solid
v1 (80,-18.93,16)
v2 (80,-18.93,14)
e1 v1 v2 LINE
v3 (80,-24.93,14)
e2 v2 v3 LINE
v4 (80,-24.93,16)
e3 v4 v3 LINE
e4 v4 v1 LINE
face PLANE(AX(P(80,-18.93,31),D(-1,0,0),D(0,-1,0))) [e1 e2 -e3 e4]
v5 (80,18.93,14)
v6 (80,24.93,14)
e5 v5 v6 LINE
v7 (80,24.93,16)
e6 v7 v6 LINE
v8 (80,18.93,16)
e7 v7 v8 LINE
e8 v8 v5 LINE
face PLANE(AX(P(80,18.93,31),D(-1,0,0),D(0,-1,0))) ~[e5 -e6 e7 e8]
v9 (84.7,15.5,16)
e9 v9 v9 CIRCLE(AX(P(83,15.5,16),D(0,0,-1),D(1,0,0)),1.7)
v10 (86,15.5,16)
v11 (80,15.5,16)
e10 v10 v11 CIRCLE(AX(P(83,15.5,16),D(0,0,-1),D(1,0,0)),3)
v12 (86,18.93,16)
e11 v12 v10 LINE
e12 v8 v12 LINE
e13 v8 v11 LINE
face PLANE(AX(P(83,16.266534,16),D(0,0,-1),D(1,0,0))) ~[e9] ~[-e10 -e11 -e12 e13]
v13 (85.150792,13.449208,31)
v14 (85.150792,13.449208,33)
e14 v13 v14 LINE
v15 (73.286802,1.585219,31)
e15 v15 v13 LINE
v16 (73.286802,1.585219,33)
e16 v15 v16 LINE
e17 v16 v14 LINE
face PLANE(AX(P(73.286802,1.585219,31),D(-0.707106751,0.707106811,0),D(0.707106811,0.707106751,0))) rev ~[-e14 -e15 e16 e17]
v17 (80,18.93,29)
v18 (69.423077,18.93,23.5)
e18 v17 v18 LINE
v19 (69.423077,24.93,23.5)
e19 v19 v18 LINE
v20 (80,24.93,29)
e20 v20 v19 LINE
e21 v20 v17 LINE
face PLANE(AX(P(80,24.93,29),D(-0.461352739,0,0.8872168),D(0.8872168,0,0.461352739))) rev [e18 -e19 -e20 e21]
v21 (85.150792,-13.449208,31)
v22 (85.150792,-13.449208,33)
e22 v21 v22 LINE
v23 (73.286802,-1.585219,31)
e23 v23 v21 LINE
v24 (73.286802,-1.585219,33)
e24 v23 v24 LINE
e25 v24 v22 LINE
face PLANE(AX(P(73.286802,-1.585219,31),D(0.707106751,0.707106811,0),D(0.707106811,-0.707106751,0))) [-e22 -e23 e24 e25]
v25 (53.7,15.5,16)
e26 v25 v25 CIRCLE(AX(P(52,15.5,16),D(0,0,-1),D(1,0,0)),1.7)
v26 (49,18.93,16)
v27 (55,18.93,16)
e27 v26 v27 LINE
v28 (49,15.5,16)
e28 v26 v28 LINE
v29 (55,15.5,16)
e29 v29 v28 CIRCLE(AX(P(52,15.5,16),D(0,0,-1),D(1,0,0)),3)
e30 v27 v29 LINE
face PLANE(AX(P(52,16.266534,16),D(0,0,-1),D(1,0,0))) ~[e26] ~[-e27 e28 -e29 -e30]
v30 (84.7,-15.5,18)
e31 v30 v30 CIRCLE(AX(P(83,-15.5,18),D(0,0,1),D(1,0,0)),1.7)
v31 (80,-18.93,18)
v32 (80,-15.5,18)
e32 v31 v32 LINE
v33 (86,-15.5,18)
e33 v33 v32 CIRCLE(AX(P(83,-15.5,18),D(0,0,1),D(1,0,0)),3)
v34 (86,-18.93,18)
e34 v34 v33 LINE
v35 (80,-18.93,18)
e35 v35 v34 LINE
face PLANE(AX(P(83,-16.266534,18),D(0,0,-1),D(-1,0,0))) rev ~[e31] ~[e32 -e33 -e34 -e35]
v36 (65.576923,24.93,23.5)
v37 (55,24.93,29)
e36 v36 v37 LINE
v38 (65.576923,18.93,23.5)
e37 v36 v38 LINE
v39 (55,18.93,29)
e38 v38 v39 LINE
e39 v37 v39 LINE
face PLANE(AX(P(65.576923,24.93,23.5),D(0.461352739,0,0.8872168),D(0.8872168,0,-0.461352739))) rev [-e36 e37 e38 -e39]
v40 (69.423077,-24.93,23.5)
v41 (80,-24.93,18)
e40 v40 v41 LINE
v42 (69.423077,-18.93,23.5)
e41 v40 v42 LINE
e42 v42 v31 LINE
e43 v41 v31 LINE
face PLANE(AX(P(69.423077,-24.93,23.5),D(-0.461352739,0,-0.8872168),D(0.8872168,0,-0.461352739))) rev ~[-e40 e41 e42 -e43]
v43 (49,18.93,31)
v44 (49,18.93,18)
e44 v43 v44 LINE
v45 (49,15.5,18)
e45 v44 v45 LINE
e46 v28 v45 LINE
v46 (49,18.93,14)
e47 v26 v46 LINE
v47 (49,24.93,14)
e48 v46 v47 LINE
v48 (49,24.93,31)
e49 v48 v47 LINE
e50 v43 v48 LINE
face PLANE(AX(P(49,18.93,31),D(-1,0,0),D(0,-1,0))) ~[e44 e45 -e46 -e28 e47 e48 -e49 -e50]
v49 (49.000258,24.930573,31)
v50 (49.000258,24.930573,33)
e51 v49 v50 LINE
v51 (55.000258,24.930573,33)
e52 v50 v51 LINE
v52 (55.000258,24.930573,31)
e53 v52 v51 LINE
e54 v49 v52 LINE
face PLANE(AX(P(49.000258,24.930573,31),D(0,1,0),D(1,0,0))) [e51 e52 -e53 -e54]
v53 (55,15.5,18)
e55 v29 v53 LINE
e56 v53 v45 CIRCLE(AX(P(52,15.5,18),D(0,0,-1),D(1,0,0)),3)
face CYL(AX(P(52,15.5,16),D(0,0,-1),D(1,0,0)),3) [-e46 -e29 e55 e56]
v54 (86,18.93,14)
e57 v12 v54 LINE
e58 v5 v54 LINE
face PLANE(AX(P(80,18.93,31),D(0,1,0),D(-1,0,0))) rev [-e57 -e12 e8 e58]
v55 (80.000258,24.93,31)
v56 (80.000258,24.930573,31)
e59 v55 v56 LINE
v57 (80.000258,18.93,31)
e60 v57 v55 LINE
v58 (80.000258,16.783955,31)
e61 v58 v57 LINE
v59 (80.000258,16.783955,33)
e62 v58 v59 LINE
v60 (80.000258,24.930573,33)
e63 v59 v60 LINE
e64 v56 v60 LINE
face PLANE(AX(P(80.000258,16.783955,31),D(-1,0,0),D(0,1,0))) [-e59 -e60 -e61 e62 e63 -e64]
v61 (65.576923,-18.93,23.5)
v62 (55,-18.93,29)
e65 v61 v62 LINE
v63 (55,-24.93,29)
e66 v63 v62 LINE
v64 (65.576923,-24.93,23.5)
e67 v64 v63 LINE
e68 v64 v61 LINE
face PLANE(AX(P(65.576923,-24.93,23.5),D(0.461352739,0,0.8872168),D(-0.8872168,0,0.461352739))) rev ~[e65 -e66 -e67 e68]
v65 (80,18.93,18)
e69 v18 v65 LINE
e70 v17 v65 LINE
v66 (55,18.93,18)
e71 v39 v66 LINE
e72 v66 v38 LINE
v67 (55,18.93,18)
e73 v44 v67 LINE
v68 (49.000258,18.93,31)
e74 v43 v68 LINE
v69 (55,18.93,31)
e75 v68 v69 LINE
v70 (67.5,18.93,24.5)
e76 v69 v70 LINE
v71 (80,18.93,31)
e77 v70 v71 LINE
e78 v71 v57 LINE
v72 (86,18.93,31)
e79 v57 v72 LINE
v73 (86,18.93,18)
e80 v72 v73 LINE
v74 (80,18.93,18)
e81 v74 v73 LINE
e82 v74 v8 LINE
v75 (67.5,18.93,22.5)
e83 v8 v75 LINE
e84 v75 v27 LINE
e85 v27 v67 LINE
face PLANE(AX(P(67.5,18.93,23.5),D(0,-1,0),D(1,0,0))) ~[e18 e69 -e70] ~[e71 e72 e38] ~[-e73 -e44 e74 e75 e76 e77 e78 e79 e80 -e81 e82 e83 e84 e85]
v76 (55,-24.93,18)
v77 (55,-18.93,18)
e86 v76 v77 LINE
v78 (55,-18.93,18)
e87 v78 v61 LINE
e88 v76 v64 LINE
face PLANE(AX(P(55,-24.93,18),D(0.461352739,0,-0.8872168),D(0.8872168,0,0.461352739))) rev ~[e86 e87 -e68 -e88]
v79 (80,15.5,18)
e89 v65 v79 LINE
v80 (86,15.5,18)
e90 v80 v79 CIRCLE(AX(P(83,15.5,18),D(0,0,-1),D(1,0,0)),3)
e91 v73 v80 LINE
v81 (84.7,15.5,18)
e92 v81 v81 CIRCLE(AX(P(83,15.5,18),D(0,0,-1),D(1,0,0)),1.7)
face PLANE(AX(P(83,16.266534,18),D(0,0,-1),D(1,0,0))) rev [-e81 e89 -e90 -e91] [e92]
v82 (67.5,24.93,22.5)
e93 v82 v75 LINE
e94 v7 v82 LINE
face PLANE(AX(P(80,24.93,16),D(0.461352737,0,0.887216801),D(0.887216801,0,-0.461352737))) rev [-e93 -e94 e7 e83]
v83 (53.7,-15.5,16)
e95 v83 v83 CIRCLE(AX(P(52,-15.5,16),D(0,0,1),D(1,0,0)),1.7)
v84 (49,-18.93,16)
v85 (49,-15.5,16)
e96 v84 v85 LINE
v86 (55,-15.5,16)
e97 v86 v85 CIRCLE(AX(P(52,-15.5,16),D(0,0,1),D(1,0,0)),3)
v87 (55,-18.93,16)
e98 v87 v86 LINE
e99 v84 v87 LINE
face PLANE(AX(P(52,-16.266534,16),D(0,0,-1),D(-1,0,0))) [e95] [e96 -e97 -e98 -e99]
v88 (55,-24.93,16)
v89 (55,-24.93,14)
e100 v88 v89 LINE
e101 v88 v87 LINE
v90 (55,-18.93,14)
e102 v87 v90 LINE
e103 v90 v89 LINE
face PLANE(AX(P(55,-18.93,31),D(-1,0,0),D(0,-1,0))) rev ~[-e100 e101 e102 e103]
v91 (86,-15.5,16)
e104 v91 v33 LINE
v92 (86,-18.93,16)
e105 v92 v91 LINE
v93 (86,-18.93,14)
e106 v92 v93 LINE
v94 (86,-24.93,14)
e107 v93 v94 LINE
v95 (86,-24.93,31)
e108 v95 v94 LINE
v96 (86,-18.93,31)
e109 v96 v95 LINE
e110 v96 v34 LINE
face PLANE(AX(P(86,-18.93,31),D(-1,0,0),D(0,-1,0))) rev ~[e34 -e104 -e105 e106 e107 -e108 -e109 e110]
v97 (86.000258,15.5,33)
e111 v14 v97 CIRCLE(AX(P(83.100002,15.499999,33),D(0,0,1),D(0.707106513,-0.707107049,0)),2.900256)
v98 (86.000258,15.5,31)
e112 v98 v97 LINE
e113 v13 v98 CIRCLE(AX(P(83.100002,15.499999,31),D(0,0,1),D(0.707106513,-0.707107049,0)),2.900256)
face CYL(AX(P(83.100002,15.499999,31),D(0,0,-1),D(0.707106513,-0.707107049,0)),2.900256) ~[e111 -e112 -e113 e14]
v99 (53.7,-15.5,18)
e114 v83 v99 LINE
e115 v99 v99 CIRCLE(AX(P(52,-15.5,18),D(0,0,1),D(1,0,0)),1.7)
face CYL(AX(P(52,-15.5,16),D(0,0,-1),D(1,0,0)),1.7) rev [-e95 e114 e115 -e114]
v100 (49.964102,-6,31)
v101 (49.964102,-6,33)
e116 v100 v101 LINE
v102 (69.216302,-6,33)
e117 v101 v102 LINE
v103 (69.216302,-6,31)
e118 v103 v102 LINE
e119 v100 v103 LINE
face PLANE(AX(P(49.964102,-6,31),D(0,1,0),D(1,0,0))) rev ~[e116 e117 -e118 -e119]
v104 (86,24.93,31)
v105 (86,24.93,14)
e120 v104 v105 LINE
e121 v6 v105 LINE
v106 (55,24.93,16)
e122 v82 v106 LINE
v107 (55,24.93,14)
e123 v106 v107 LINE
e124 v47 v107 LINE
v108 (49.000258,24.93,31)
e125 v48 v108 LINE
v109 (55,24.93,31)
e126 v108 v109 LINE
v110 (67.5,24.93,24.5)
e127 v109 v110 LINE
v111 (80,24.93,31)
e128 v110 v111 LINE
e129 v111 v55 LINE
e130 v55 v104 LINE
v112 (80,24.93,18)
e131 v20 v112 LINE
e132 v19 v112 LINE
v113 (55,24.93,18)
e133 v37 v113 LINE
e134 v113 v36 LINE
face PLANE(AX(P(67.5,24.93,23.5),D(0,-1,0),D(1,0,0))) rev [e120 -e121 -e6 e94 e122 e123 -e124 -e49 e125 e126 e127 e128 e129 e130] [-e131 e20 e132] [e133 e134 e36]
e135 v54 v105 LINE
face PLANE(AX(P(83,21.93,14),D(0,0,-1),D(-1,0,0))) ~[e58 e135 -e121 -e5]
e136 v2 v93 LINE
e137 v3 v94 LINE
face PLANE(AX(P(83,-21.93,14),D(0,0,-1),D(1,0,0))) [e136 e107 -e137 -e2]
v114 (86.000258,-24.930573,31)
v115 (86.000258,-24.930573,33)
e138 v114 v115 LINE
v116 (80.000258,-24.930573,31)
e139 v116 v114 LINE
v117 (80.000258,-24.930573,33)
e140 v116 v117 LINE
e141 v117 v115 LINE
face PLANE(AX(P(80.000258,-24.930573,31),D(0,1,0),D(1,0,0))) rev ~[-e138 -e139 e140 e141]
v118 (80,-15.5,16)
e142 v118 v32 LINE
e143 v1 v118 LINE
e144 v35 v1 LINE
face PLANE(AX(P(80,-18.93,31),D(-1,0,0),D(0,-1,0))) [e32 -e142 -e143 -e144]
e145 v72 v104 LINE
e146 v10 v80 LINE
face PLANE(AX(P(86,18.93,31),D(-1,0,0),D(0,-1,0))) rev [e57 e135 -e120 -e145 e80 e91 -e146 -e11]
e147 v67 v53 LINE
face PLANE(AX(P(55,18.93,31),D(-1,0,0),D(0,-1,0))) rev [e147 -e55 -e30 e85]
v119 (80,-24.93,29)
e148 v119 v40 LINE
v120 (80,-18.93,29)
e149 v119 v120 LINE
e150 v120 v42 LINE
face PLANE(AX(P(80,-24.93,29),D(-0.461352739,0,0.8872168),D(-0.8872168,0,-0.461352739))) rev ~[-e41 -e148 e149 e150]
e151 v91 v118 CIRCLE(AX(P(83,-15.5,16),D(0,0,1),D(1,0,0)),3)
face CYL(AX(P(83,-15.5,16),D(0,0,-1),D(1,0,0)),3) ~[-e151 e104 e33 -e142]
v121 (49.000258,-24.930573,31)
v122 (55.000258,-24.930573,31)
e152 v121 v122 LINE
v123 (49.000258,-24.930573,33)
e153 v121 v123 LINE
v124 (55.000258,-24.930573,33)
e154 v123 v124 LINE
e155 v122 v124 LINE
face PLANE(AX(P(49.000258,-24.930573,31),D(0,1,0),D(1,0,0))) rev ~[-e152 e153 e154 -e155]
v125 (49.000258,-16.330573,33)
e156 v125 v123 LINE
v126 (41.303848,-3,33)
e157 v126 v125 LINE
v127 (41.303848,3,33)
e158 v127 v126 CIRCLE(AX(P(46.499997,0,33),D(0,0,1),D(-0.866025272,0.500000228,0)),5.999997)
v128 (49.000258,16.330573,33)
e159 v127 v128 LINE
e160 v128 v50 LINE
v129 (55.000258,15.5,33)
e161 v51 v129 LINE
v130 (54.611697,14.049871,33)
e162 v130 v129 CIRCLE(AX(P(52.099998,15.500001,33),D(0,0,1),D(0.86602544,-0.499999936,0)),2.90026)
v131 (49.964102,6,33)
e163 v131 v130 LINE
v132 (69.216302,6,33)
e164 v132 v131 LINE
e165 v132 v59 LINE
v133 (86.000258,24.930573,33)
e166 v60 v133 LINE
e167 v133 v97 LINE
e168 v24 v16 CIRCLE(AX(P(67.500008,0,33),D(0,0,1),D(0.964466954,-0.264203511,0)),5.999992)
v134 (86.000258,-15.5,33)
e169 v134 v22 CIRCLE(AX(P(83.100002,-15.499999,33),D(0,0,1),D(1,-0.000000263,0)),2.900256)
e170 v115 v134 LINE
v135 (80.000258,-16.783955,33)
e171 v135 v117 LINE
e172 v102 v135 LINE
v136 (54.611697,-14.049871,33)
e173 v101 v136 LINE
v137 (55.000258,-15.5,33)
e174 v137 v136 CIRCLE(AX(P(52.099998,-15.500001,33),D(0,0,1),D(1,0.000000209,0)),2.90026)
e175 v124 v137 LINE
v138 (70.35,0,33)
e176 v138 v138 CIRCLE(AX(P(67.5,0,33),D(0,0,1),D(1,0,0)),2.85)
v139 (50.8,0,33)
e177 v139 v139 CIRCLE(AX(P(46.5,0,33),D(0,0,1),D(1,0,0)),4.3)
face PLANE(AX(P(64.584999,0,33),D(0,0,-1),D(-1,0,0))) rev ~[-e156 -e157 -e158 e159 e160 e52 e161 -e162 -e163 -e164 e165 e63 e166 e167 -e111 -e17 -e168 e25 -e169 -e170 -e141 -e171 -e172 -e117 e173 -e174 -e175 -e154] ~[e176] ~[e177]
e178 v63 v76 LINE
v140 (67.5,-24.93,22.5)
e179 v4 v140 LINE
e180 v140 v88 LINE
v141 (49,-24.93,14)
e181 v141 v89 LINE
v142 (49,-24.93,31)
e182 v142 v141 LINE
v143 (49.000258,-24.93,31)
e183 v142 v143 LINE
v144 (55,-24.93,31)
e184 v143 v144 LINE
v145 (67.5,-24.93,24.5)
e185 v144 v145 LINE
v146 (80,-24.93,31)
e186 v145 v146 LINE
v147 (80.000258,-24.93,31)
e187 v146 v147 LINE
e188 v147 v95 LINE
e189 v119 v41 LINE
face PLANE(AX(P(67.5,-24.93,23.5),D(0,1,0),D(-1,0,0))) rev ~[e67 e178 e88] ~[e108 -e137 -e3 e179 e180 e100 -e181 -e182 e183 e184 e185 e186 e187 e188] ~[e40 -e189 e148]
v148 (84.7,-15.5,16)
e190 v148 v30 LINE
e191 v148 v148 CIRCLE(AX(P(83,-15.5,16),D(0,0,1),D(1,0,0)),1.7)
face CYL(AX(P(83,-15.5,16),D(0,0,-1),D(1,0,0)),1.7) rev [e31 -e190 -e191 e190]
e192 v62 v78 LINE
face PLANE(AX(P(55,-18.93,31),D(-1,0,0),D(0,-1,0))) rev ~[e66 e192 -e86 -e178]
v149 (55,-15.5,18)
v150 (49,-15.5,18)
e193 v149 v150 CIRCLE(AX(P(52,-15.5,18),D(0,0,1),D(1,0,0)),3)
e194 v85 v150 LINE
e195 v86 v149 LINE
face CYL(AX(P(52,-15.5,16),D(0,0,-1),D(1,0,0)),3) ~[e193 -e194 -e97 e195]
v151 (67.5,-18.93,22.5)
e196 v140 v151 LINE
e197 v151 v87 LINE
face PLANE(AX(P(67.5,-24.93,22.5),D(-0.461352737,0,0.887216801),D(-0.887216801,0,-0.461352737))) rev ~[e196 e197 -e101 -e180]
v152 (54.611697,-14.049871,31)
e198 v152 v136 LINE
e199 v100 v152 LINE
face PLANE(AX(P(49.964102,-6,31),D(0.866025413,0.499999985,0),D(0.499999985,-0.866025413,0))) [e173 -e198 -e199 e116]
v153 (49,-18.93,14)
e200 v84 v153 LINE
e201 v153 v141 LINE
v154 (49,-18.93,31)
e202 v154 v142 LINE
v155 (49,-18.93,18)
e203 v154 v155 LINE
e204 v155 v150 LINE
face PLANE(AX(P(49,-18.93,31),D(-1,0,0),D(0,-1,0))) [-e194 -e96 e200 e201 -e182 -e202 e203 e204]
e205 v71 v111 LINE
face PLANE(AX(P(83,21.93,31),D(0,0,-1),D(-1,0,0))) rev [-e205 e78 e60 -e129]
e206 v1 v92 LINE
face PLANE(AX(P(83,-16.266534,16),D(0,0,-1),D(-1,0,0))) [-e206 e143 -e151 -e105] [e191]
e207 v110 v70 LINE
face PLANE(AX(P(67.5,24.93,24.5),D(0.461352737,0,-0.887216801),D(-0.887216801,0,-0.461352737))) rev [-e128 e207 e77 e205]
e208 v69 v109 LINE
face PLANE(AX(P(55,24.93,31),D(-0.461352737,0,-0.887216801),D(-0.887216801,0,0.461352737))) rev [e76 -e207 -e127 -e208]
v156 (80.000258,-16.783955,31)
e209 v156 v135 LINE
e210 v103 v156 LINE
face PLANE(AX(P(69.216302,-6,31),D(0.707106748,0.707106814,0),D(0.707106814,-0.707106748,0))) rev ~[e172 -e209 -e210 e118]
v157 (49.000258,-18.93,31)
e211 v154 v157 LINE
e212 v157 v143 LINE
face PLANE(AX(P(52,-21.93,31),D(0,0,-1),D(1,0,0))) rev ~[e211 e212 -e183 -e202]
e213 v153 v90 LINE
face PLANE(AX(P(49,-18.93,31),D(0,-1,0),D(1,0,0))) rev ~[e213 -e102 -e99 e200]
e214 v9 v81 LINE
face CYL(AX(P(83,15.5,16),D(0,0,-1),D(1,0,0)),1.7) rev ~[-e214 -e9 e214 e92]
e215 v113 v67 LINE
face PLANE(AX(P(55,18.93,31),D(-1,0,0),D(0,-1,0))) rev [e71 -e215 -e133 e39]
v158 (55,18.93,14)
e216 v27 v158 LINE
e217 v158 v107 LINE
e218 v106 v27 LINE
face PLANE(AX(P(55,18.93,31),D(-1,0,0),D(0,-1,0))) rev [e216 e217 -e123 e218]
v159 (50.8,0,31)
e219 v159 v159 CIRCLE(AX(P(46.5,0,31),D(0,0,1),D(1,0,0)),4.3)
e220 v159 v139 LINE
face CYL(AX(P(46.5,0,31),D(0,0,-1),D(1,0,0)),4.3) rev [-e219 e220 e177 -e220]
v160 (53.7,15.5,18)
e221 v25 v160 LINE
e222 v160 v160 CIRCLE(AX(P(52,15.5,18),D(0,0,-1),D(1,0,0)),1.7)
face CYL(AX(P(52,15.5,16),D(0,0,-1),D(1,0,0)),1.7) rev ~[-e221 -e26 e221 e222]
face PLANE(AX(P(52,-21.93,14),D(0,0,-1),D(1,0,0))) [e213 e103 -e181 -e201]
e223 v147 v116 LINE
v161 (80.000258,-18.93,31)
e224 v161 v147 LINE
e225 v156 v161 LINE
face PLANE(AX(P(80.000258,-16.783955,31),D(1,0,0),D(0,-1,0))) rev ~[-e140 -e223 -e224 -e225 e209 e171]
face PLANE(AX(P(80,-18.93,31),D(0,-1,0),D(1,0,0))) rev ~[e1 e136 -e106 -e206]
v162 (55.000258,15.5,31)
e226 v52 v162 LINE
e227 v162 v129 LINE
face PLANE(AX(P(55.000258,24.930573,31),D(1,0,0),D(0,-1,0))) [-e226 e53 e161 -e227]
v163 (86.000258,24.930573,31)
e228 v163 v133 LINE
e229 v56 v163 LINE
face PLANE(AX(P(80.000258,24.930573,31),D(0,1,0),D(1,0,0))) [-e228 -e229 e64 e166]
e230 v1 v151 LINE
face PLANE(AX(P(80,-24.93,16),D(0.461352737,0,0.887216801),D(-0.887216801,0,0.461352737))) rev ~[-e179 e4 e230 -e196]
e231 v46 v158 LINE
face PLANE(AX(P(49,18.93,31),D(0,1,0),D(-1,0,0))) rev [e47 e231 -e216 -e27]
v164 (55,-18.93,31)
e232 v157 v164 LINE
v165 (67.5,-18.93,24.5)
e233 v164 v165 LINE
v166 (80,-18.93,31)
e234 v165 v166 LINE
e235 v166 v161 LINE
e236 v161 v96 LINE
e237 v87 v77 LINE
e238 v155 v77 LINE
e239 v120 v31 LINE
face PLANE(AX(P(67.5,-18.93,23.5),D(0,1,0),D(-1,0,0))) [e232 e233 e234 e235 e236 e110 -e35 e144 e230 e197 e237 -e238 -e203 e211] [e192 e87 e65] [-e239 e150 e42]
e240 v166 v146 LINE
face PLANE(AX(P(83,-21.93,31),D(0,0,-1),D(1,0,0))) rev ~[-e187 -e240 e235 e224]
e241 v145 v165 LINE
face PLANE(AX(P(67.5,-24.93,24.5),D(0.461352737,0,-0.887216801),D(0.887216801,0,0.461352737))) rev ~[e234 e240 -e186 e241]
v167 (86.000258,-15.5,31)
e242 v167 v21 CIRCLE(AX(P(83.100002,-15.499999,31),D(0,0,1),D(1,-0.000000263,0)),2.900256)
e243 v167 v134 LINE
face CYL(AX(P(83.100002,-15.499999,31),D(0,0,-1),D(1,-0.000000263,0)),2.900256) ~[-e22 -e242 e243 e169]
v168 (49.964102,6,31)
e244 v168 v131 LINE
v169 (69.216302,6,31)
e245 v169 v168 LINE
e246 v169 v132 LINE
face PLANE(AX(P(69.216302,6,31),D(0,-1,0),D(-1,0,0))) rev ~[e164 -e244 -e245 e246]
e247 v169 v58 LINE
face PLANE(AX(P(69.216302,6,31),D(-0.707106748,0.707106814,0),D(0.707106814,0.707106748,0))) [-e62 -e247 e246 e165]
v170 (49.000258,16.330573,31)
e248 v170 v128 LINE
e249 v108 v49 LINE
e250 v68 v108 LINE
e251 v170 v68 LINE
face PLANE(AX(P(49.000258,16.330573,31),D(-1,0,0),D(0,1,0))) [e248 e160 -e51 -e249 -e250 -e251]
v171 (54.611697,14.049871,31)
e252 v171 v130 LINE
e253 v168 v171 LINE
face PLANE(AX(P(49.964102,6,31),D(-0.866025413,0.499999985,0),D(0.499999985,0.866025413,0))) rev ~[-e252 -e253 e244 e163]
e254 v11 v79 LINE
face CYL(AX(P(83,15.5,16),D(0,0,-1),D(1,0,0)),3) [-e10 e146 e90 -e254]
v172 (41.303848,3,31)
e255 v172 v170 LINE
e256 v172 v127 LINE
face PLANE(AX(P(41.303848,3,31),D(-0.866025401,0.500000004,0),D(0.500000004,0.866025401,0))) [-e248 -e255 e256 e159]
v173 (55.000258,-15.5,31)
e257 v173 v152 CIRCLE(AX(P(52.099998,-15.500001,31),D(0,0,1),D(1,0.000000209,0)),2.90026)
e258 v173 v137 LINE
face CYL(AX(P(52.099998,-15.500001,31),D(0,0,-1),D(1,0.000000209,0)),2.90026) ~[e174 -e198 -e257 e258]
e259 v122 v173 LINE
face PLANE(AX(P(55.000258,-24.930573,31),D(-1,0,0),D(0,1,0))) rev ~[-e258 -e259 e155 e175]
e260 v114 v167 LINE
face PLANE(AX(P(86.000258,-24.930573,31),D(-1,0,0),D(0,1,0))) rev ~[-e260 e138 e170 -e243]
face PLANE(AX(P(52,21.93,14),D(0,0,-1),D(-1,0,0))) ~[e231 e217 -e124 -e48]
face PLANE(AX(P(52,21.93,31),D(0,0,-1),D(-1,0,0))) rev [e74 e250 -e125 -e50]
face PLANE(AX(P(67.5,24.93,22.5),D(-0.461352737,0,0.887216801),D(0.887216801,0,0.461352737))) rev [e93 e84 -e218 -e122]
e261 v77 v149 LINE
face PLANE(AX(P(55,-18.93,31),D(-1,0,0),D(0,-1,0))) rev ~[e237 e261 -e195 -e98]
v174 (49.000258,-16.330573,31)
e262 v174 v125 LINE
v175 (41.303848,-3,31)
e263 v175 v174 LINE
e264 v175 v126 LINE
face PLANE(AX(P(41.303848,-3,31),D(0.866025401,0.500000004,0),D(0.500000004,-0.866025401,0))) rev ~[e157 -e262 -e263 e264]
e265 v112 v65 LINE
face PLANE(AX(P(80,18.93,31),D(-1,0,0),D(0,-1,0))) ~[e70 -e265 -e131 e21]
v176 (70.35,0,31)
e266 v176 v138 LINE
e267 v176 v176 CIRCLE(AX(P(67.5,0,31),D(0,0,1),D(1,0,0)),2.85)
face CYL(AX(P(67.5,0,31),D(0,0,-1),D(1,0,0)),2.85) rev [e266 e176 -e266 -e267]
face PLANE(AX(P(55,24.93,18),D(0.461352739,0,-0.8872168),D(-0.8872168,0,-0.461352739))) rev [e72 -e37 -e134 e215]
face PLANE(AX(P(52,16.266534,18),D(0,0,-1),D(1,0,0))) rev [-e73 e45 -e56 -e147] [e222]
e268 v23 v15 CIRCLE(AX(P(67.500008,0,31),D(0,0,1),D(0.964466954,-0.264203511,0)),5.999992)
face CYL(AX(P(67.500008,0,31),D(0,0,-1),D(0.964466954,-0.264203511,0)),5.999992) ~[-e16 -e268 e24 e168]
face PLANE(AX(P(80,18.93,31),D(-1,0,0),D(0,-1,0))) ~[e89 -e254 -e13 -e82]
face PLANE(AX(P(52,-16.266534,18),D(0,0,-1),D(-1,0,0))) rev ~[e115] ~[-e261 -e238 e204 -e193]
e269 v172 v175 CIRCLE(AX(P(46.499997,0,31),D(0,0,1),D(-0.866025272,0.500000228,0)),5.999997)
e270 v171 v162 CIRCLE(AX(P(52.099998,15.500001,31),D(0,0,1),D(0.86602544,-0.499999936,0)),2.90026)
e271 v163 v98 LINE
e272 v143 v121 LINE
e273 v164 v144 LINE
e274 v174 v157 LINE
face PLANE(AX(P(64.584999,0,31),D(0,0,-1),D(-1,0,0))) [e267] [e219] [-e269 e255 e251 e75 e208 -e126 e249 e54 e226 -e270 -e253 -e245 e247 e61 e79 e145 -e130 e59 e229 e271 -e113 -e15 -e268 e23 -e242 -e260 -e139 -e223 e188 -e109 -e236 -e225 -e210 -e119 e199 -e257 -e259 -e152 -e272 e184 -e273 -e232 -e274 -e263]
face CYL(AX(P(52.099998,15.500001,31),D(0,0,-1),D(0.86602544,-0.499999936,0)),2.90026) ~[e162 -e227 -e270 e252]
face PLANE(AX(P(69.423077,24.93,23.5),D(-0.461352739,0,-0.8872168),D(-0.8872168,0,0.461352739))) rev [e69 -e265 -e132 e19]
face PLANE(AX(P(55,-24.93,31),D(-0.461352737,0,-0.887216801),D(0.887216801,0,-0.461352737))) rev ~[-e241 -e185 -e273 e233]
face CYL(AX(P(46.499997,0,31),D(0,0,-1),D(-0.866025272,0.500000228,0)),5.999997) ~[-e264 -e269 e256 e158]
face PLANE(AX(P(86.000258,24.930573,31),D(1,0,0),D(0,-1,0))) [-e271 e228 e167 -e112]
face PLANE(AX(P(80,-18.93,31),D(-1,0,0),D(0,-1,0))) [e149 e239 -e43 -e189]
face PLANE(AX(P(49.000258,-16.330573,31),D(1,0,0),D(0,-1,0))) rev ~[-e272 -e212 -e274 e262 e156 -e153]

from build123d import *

# Parameters (mm, degrees)
SKETCH105_R                     = 4.3
SKETCH105_R_2                   = 2.85
PAD057_DEPTH                    = 2
SKETCH106_W                     = 6
SKETCH106_H                     = 6
PAD058_DEPTH                    = 17
SKETCH107_R                     = 1.7
PAD059_DEPTH                    = 2
SKETCH107_LINEARPATTERN002_2_R  = 1.7
PAD059_LINEARPATTERN002_2_DEPTH = 2
SKETCH106_LINEARPATTERN002_2_W  = 6
SKETCH106_LINEARPATTERN002_2_H  = 6
PAD058_LINEARPATTERN002_2_DEPTH = 17
PAD060_DEPTH                    = 6


with BuildPart() as part:
    # Sketch105 → Pad057 (new body)
    with BuildSketch(Plane.XY):
        with BuildLine():
            Line((3.464102, 6), (21, 6))
            Line((22.716302, 6), (21, 6))
            Line((22.716302, 6), (33.500258, 16.783955))
            Line((33.500258, 16.783955), (33.500258, 24.930573))
            Line((33.500258, 24.930573), (39.500258, 24.930573))
            Line((39.500258, 24.930573), (39.500258, 15.5))
            ThreePointArc((38.650792, 13.449208), (39.279489, 14.390119), (39.500258, 15.5))
            Line((26.786802, 1.585219), (38.650792, 13.449208))
            ThreePointArc((26.786802, -1.585219), (27, 0), (26.786802, 1.585219))
            Line((26.786802, -1.585219), (38.650792, -13.449208))
            ThreePointArc((39.500258, -15.5), (39.279489, -14.390119), (38.650792, -13.449208))
            Line((39.500258, -24.930573), (39.500258, -15.5))
            Line((33.500258, -24.930573), (39.500258, -24.930573))
            Line((33.500258, -16.783955), (33.500258, -24.930573))
            Line((22.716302, -6), (33.500258, -16.783955))
            Line((21, -6), (22.716302, -6))
            Line((3.464102, -6), (21, -6))
            Line((3.464102, -6), (8.111697, -14.049871))
            ThreePointArc((8.500258, -15.5), (8.401434, -14.749358), (8.111697, -14.049871))
            Line((8.500258, -24.930573), (8.500258, -15.5))
            Line((2.500258, -24.930573), (8.500258, -24.930573))
            Line((2.500258, -16.330573), (2.500258, -24.930573))
            Line((-5.196152, -3), (2.500258, -16.330573))
            ThreePointArc((-5.196152, 3), (-6, 0), (-5.196152, -3))
            Line((-5.196152, 3), (2.500258, 16.330573))
            Line((2.500258, 16.330573), (2.500258, 24.930573))
            Line((2.500258, 24.930573), (8.500258, 24.930573))
            Line((8.500258, 24.930573), (8.500258, 15.5))
            ThreePointArc((8.111697, 14.049871), (8.401434, 14.749358), (8.500258, 15.5))
            Line((3.464102, 6), (8.111697, 14.049871))
        make_face()
        Circle(SKETCH105_R, mode=Mode.SUBTRACT)
        with Locations((21, 0)):
            Circle(SKETCH105_R_2, mode=Mode.SUBTRACT)
    extrude(amount=PAD057_DEPTH)

    # Sketch106 (on Face33 of Pad057) → Pad058 (join)
    with BuildSketch(Plane(origin=(0, 0, 0), x_dir=(1, 0, 0), z_dir=(0, 0, -1))):
        with Locations((5.5, 21.93)):
            Rectangle(SKETCH106_W, SKETCH106_H)
    pad058 = extrude(amount=PAD058_DEPTH)

    # Sketch107 → Pad059 (join)
    with BuildSketch(Plane.XY.offset(-15)):
        with BuildLine():
            Line((2.5, -18.93), (2.5, -15.5))
            ThreePointArc((8.5, -15.5), (5.5, -12.5), (2.5, -15.5))
            Line((8.5, -18.93), (8.5, -15.5))
            Line((2.5, -18.93), (8.5, -18.93))
        make_face()
        with Locations((5.5, -15.5)):
            Circle(SKETCH107_R, mode=Mode.SUBTRACT)
    pad059 = extrude(amount=PAD059_DEPTH)

    # Sketch107 LinearPattern002 2 → Pad059 LinearPattern002 2 (add)
    with BuildSketch(Plane(origin=(31, 0, -15), x_dir=(1, 0, 0), z_dir=(0, 0, 1))):
        with BuildLine():
            Line((2.5, -18.93), (2.5, -15.5))
            ThreePointArc((8.5, -15.5), (5.5, -12.5), (2.5, -15.5))
            Line((8.5, -18.93), (8.5, -15.5))
            Line((2.5, -18.93), (8.5, -18.93))
        make_face()
        with Locations((5.5, -15.5)):
            Circle(SKETCH107_LINEARPATTERN002_2_R, mode=Mode.SUBTRACT)
    pad059_linearpattern002_2 = extrude(amount=PAD059_LINEARPATTERN002_2_DEPTH)

    # Sketch106 LinearPattern002 2 → Pad058 LinearPattern002 2 (add)
    with BuildSketch(Plane(origin=(31, 0, 0), x_dir=(1, 0, 0), z_dir=(0, 0, -1))):
        with Locations((5.5, 21.93)):
            Rectangle(SKETCH106_LINEARPATTERN002_2_W, SKETCH106_LINEARPATTERN002_2_H)
    pad058_linearpattern002_2 = extrude(amount=PAD058_LINEARPATTERN002_2_DEPTH)

    # Mirrored003: Pad059, Pad058, Pad059 LinearPattern002 2, Pad058 LinearPattern002 2 across Sketch107 H_Axis
    add(pad059.mirror(Plane(origin=(0, 0, -15), x_dir=(0, 0, 1), z_dir=(0, 1, 0))))
    add(pad058.mirror(Plane(origin=(0, 0, -15), x_dir=(0, 0, 1), z_dir=(0, 1, 0))))
    add(pad059_linearpattern002_2.mirror(Plane(origin=(0, 0, -15), x_dir=(0, 0, 1), z_dir=(0, 1, 0))))
    add(pad058_linearpattern002_2.mirror(Plane(origin=(0, 0, -15), x_dir=(0, 0, 1), z_dir=(0, 1, 0))))

    # Sketch108 (on Face36 of MultiTransform003) → Pad060 (join)
    with BuildSketch(Plane.XZ.offset(24.93)):
        Polygon((8.5, 0), (21, -6.5), (33.5, 0), (33.5, -2), (22.923077, -7.5), (33.5, -13), (33.5, -15), (21, -8.5), (8.5, -15), (8.5, -13), (19.076923, -7.5), (8.5, -2), align=None)
    pad060 = extrude(amount=-PAD060_DEPTH)

    # Mirrored004: Pad060 across XZ
    add(pad060.mirror(Plane.XZ))


with BuildPart() as part_1:
    # Body028 placement: moved
    add(part.part.moved(Location((46.5, 0, 31))))


solid = part_1.part
